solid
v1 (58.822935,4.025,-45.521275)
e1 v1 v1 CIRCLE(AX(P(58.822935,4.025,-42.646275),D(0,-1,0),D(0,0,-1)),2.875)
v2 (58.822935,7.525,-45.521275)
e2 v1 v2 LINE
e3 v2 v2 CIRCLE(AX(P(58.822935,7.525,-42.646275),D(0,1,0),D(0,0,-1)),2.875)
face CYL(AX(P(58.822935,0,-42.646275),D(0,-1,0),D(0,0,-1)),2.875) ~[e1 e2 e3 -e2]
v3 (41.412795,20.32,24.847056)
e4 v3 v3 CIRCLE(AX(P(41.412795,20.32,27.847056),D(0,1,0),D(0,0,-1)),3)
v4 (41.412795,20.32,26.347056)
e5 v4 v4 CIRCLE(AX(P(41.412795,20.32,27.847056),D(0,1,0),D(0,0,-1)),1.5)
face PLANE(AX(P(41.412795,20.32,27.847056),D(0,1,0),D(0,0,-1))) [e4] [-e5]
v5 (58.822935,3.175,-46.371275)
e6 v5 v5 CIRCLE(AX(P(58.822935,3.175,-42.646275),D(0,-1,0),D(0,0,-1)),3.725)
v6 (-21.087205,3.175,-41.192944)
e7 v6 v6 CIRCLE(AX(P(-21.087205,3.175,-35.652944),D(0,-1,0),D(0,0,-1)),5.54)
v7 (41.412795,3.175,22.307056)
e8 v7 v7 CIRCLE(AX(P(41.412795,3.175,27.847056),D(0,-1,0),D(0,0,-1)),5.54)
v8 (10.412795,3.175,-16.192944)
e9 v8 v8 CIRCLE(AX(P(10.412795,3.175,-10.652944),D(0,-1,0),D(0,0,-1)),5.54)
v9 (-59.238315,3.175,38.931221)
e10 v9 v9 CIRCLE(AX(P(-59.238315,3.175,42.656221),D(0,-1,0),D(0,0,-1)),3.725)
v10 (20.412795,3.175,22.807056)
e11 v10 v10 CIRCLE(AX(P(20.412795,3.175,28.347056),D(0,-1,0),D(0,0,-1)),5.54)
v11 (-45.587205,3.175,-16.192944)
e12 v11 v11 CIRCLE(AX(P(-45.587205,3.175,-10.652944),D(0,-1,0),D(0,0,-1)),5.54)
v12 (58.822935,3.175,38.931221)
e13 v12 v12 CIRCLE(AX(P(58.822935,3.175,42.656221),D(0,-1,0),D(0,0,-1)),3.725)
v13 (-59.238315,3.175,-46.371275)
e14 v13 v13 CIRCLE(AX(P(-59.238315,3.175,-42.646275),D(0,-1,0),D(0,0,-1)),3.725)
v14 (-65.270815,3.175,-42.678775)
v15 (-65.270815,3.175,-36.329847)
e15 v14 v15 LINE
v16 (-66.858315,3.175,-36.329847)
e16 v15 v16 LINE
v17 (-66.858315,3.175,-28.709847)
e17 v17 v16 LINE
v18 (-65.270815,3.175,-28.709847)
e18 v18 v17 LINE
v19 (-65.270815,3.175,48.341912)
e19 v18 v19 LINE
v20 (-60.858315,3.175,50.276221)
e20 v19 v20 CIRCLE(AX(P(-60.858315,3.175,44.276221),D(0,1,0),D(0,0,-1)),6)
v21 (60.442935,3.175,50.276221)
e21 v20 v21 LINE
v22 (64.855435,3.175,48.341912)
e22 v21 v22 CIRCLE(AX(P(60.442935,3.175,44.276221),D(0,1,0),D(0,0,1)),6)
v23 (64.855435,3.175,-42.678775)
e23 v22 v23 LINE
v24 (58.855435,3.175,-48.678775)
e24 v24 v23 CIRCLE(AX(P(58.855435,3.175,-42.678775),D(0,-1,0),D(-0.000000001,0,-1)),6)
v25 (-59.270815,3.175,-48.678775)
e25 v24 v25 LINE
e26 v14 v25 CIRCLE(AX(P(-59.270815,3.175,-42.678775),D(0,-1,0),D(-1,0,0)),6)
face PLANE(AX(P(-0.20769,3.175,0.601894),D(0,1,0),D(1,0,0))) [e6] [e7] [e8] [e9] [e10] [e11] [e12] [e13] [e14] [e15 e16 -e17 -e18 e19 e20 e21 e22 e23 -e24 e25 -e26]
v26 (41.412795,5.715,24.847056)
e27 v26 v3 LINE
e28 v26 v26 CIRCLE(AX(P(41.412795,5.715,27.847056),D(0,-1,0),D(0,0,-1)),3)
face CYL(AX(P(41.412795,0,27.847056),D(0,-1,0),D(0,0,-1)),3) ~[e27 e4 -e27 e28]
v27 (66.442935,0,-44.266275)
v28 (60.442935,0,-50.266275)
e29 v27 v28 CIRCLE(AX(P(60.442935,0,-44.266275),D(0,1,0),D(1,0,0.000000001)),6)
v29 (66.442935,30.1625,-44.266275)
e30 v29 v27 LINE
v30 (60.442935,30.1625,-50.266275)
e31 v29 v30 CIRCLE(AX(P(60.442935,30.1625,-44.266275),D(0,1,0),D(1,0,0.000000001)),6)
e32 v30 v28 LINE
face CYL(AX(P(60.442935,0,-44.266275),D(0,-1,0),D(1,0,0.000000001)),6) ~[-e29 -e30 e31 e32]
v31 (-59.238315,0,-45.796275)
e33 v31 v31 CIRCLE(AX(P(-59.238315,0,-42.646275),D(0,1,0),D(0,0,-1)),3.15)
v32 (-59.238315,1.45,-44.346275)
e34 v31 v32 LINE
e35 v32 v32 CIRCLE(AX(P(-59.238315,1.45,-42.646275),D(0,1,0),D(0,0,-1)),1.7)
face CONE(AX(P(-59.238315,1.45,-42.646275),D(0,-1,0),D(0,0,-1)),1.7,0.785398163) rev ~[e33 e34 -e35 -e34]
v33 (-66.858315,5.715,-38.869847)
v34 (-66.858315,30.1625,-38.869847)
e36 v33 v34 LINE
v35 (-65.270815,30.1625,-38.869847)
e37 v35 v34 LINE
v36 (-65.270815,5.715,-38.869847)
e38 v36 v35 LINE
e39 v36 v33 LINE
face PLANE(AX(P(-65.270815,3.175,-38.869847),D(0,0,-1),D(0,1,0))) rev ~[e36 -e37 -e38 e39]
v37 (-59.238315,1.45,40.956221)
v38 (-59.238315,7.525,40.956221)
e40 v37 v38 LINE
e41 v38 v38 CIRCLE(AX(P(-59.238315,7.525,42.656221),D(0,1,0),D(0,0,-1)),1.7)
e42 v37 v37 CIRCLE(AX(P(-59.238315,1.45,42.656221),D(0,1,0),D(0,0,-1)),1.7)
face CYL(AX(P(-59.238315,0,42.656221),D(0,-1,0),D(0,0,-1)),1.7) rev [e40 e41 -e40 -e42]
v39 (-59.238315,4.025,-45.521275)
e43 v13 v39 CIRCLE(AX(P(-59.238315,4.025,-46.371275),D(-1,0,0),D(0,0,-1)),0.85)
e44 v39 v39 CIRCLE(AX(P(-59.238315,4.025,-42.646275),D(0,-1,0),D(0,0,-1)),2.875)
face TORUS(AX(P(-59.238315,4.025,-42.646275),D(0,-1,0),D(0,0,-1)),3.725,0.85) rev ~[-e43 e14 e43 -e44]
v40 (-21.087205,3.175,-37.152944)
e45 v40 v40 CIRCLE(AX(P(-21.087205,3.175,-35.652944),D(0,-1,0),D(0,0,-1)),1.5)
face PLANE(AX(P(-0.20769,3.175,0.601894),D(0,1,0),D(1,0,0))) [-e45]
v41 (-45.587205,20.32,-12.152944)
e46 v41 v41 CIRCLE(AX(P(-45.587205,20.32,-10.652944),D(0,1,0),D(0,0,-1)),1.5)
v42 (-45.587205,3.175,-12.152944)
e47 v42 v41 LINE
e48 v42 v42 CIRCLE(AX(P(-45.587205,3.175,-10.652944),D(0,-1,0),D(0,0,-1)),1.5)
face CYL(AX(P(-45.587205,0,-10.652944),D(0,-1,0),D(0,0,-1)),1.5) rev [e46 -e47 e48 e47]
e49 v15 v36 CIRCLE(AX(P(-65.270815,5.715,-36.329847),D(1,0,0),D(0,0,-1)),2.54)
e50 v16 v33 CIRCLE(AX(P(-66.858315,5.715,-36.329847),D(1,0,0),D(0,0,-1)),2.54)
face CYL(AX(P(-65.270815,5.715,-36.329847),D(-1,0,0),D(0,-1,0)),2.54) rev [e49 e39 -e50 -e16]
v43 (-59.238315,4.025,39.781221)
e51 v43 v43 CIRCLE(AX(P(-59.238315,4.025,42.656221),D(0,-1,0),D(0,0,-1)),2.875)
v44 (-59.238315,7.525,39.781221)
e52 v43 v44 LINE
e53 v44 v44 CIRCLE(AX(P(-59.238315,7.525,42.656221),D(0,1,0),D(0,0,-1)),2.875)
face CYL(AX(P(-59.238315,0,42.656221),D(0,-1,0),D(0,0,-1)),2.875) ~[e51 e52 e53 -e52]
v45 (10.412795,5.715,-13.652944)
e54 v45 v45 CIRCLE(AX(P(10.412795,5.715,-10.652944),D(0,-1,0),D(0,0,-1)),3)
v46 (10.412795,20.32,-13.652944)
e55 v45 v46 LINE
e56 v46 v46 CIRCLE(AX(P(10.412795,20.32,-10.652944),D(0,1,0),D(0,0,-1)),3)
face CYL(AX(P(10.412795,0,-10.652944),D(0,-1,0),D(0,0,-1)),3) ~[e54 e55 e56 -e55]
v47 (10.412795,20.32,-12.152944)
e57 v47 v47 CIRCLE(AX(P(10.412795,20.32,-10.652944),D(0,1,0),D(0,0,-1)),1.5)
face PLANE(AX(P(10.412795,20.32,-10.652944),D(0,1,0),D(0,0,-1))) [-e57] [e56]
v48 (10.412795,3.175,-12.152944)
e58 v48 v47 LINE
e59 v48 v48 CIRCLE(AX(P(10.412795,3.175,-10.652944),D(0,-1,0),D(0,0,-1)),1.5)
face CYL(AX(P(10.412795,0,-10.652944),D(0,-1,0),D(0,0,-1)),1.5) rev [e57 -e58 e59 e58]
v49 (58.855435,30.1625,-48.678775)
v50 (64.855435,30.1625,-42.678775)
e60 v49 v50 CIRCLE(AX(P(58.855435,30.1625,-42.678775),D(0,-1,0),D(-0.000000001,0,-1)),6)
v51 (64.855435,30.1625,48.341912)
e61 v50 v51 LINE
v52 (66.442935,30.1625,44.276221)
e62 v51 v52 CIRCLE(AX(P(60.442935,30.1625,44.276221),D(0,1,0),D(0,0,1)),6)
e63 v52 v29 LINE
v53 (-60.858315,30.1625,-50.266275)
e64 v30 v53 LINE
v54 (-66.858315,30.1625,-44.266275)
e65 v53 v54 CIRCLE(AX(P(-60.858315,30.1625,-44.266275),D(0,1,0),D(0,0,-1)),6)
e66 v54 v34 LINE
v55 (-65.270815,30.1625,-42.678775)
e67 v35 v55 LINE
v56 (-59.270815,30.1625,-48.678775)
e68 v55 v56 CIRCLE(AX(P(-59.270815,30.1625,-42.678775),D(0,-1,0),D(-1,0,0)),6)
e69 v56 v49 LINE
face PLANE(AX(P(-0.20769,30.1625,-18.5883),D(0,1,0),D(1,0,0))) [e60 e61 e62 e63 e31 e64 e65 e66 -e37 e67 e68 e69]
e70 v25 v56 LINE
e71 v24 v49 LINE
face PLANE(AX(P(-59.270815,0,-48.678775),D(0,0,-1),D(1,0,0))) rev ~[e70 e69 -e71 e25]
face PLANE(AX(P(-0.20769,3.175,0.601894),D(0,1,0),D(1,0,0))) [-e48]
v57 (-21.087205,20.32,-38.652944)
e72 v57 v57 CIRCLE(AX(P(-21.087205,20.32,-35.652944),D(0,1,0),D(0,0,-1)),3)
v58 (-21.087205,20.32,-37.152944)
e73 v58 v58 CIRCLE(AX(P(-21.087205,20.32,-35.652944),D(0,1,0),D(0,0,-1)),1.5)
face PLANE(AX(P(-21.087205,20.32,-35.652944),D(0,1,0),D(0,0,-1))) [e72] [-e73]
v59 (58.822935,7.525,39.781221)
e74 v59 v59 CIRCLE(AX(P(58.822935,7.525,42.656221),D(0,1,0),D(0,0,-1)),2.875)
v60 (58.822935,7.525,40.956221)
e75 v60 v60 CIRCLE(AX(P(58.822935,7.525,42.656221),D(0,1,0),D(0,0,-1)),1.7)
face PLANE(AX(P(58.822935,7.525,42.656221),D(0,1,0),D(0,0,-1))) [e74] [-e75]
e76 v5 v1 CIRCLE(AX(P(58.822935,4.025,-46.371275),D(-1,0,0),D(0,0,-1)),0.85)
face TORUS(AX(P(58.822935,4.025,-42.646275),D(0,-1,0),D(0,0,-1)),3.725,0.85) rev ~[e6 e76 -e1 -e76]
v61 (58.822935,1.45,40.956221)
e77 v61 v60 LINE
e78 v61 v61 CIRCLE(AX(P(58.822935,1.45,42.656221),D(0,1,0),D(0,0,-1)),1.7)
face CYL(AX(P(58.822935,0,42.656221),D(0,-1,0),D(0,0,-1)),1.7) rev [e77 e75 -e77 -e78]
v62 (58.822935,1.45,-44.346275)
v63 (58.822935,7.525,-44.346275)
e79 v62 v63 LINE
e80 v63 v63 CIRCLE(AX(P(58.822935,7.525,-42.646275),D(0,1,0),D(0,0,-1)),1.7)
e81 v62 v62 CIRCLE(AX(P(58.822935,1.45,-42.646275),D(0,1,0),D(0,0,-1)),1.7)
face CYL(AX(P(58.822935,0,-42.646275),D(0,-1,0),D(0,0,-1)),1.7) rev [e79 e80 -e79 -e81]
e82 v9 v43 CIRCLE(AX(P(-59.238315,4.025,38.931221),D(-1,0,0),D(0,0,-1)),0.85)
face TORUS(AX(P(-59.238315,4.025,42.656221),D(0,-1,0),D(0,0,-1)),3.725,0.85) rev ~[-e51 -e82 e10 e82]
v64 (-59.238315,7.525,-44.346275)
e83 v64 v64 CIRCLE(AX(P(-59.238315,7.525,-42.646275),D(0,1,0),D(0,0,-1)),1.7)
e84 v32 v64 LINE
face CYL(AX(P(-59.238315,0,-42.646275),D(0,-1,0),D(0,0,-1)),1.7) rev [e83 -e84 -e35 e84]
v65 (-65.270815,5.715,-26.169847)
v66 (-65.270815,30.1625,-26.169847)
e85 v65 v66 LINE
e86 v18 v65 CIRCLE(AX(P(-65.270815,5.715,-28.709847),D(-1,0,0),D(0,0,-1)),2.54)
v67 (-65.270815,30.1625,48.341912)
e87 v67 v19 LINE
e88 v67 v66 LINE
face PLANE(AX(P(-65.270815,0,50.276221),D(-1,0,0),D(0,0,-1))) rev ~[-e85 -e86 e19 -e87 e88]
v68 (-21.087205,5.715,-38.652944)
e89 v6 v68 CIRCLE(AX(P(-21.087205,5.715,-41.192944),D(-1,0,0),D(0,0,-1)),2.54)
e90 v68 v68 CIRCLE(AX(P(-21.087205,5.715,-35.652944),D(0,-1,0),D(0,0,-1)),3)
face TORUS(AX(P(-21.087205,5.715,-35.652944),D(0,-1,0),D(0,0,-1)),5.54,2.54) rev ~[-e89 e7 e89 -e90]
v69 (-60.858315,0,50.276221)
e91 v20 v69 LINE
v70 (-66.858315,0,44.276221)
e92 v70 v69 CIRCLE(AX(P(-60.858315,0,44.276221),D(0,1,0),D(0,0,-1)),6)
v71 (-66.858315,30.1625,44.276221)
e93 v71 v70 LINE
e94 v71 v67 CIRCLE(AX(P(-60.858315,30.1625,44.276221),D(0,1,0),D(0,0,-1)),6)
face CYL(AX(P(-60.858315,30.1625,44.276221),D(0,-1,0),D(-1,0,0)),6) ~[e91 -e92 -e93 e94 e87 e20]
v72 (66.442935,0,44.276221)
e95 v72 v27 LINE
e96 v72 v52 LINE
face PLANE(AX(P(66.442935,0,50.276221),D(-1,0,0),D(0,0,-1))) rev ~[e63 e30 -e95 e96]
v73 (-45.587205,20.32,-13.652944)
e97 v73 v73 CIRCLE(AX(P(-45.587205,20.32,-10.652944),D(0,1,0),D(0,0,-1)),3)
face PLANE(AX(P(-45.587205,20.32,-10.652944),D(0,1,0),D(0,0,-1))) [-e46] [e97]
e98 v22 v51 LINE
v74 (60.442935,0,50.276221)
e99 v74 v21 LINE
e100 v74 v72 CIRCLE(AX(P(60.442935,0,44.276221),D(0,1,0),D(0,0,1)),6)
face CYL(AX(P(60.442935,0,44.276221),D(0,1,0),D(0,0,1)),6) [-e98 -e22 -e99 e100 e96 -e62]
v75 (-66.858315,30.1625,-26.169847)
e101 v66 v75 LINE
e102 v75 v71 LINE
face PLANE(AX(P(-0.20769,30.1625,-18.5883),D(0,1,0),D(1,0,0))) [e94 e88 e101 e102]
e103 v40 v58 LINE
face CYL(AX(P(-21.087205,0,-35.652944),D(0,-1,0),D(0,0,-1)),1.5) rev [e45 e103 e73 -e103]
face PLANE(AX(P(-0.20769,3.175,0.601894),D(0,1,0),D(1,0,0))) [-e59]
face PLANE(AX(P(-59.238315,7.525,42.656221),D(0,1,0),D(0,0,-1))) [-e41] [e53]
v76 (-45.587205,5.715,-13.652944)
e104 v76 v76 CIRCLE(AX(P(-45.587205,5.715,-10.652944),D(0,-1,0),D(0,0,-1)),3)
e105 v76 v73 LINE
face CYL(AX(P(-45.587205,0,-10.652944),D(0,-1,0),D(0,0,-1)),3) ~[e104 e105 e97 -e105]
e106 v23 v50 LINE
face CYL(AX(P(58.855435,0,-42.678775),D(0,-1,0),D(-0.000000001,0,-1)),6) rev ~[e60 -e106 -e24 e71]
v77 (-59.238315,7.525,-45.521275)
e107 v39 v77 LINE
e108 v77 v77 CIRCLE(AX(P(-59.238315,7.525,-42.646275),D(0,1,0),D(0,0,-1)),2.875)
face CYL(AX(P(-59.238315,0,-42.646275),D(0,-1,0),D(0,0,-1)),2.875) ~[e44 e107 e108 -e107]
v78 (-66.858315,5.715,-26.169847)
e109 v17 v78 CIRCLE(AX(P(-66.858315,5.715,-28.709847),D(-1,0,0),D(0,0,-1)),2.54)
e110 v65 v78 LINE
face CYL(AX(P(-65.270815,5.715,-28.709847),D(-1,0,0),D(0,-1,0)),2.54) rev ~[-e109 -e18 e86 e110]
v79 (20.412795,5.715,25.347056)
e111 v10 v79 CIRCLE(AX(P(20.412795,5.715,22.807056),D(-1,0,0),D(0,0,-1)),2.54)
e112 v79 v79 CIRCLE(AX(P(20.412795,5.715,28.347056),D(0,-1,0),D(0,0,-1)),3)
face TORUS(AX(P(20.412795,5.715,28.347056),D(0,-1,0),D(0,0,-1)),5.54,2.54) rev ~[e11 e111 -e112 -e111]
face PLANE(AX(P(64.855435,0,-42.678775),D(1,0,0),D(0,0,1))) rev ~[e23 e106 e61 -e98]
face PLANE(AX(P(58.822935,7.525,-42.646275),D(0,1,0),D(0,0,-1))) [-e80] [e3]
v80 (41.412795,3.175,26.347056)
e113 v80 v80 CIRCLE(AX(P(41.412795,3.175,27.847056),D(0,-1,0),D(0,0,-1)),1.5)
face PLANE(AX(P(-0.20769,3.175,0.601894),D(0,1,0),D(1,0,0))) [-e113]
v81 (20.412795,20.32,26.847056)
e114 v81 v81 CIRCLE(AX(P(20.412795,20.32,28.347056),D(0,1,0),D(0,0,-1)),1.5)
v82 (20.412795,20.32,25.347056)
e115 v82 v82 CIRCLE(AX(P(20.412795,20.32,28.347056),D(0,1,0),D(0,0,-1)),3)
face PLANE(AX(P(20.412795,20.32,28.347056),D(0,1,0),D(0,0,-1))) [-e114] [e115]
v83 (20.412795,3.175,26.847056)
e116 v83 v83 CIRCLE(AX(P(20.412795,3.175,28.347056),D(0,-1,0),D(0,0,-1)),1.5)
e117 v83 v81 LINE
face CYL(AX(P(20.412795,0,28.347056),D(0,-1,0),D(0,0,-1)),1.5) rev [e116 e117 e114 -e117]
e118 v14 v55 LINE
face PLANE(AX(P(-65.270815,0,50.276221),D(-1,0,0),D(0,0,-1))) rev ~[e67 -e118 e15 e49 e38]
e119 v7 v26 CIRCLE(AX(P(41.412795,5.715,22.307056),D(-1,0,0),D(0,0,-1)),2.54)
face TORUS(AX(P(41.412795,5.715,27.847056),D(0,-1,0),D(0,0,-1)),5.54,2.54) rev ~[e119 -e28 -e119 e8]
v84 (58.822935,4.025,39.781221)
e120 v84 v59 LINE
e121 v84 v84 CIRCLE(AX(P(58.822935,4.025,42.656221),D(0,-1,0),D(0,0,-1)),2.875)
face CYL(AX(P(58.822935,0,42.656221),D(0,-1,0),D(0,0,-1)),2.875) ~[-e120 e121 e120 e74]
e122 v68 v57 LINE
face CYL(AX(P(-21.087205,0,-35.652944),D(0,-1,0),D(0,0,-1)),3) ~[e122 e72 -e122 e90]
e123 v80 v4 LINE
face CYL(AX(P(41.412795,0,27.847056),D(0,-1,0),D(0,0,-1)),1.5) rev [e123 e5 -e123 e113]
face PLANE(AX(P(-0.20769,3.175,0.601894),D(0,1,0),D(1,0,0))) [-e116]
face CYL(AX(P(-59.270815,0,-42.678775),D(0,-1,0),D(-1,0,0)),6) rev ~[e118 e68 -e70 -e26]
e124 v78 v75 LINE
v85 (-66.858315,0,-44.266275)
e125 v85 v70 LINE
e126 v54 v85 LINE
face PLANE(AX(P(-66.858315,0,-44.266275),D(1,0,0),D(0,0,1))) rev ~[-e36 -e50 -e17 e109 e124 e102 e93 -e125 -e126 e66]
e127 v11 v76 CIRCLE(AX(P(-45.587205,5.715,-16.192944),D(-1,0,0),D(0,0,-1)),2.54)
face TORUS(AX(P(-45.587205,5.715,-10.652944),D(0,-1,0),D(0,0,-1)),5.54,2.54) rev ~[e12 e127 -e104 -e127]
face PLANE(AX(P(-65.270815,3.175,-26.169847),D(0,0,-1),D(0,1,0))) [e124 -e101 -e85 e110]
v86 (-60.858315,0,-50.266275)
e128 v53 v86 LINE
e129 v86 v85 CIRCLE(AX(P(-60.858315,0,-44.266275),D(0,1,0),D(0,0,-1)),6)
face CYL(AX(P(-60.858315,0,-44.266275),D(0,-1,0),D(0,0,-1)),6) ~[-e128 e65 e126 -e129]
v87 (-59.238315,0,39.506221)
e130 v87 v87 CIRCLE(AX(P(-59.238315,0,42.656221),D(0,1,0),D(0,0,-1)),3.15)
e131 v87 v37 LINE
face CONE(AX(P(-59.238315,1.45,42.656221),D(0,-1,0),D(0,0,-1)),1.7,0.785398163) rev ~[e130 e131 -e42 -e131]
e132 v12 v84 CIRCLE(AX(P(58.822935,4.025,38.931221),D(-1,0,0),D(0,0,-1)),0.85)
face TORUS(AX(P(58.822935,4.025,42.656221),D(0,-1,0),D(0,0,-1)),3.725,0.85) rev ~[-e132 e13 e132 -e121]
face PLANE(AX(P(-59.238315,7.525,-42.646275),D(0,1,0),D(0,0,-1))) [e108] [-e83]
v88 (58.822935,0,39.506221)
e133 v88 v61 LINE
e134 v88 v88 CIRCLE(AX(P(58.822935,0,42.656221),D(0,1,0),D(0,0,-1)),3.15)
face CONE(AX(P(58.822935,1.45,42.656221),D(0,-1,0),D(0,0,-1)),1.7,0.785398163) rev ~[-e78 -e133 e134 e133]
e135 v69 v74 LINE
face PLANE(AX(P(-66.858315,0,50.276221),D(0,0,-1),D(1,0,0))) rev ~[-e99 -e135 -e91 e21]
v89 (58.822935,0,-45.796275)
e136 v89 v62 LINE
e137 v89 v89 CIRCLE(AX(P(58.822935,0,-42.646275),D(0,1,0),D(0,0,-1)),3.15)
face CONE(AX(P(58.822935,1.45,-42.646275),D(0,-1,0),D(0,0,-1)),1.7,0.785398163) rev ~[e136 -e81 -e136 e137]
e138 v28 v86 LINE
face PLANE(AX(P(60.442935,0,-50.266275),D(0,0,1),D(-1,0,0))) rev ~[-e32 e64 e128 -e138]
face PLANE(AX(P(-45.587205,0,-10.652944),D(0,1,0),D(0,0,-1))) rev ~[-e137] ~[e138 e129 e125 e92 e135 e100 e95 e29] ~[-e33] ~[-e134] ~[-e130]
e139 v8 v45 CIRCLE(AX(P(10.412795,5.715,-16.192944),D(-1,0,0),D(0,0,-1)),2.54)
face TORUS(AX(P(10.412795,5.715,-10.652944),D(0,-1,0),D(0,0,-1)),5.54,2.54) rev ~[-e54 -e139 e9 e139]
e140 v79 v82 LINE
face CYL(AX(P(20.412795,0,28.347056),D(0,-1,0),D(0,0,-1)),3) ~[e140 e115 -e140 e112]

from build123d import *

# Parameters (mm, degrees)
BOSS_EXTRUDE12_DEPTH = 3.175
BOSS_EXTRUDE13_DEPTH = 30.1625
SKETCH1_25_R         = 2.875
SKETCH1_25_R_2       = 1.7
BOSS_EXTRUDE15_DEPTH = 7.525
SKETCH1_27_R         = 1.7
CUT_EXTRUDE3_DEPTH   = 28.575
CHAMFER2_SIZE        = 1.45
FILLET3_R            = 6
FILLET4_R            = 0.85
FILLET5_R            = 0.85
SKETCH2_W            = 12.7
SKETCH2_H            = 26.9875
CUT_EXTRUDE4_DEPTH   = 2.54
FILLET6_R            = 2.54
SKETCH1_30_R         = 3
SKETCH1_30_R_2       = 1.5
BOSS_EXTRUDE16_DEPTH = 20.32
FILLET7_R            = 2.54


with BuildPart() as part:
    # Sketch1 → Boss-Extrude12 (new body)
    with BuildSketch(Plane(origin=(0, 0, 0), x_dir=(1, 0, 0), z_dir=(0, 1, 0))):
        with BuildLine():
            Line((-66.858315384, -50.276221126), (-65.270815384, -50.276221126))
            Line((-65.270815384, -50.276221126), (64.85543465, -50.276221126))
            Line((64.85543465, -50.276221126), (66.44293465, -50.276221126))
            Line((66.44293465, -50.276221126), (66.44293465, 44.266274766))
            ThreePointArc((66.44293465, 44.266274766), (64.685575338, 48.508915454), (60.44293465, 50.266274766))
            Line((60.44293465, 50.266274766), (-60.858315384, 50.266274766))
            ThreePointArc((-60.858315384, 50.266274766), (-65.100956071, 48.508915454), (-66.858315384, 44.266274766))
            Line((-66.858315384, 44.266274766), (-66.858315384, -50.276221126))
        make_face()
    extrude(amount=BOSS_EXTRUDE12_DEPTH)

    # Sketch1<23> → Boss-Extrude13 (add)
    with BuildSketch(Plane(origin=(0, 0, 0), x_dir=(1, 0, 0), z_dir=(0, 1, 0))):
        with BuildLine():
            Line((-66.858315384, 44.266274766), (-66.858315384, -50.276221126))
            Line((-66.858315384, -50.276221126), (-65.270815384, -50.276221126))
            Line((-65.270815384, -50.276221126), (-65.270815384, 42.678774766))
            ThreePointArc((-65.270815384, 42.678774766), (-63.513456071, 46.921415454), (-59.270815384, 48.678774766))
            Line((-59.270815384, 48.678774766), (58.85543465, 48.678774766))
            ThreePointArc((58.85543465, 48.678774766), (63.098075338, 46.921415454), (64.85543465, 42.678774766))
            Line((64.85543465, 42.678774766), (64.85543465, -50.276221126))
            Line((64.85543465, -50.276221126), (66.44293465, -50.276221126))
            Line((66.44293465, -50.276221126), (66.44293465, 44.266274766))
            ThreePointArc((66.44293465, 44.266274766), (64.685575338, 48.508915454), (60.44293465, 50.266274766))
            Line((60.44293465, 50.266274766), (-60.858315384, 50.266274766))
            ThreePointArc((-60.858315384, 50.266274766), (-65.100956071, 48.508915454), (-66.858315384, 44.266274766))
        make_face()
    extrude(amount=BOSS_EXTRUDE13_DEPTH)

    # Sketch1<25> → Boss-Extrude15 (add)
    # profile 1 of 4: a face of its own
    with BuildSketch(Plane(origin=(0, 0, 0), x_dir=(1, 0, 0), z_dir=(0, 1, 0))):
        with Locations((-59.238315384, 42.646274766)):
            Circle(SKETCH1_25_R)
        with Locations((-59.238315384, 42.646274766)):
            Circle(SKETCH1_25_R_2, mode=Mode.SUBTRACT)
    # profile 2 of 4: a face of its own
    with BuildSketch(Plane(origin=(0, 0, 0), x_dir=(1, 0, 0), z_dir=(0, 1, 0))):
        with Locations((58.82293465, 42.646274766)):
            Circle(SKETCH1_25_R)
        with Locations((58.82293465, 42.646274766)):
            Circle(SKETCH1_25_R_2, mode=Mode.SUBTRACT)
    # profile 3 of 4: a face of its own
    with BuildSketch(Plane(origin=(0, 0, 0), x_dir=(1, 0, 0), z_dir=(0, 1, 0))):
        with Locations((-59.238315384, -42.656221126)):
            Circle(SKETCH1_25_R)
        with Locations((-59.238315384, -42.656221126)):
            Circle(SKETCH1_25_R_2, mode=Mode.SUBTRACT)
    # profile 4 of 4: a face of its own
    with BuildSketch(Plane(origin=(0, 0, 0), x_dir=(1, 0, 0), z_dir=(0, 1, 0))):
        with Locations((58.82293465, -42.656221126)):
            Circle(SKETCH1_25_R)
        with Locations((58.82293465, -42.656221126)):
            Circle(SKETCH1_25_R_2, mode=Mode.SUBTRACT)
    extrude(amount=BOSS_EXTRUDE15_DEPTH)

    # Sketch1<27> → Cut-Extrude3 (cut)
    with BuildSketch(Plane(origin=(0, 0, 0), x_dir=(1, 0, 0), z_dir=(0, 1, 0))):
        with Locations((-59.238315384, 42.646274766)):
            Circle(SKETCH1_27_R)
        with Locations((58.82293465, 42.646274766)):
            Circle(SKETCH1_27_R)
        with Locations((-59.238315384, -42.656221126)):
            Circle(SKETCH1_27_R)
        with Locations((58.82293465, -42.656221126)):
            Circle(SKETCH1_27_R)
    extrude(amount=CUT_EXTRUDE3_DEPTH, mode=Mode.SUBTRACT)

    # Chamfer2
    chamfer2_edges = [part.edges().sort_by_distance(p)[0] for p in [
        (57.12293465, 0, 42.656221126),
        (57.12293465, 0, -42.646274766),
        (-60.938315384, 0, 42.656221126),
        (-60.938315384, 0, -42.646274766),
    ]]
    chamfer(chamfer2_edges, length=CHAMFER2_SIZE)

    # Fillet3
    fillet3_edges = [part.edges().sort_by_distance(p)[0] for p in [
        (66.44293465, 15.08125, 50.276221126),
        (-66.858315384, 15.08125, 50.276221126),
    ]]
    fillet(fillet3_edges, radius=FILLET3_R)

    # Fillet4
    fillet4_edges = [part.edges().sort_by_distance(p)[0] for p in [
        (-62.113315384, 3.175, -42.646274766),
    ]]
    fillet(fillet4_edges, radius=FILLET4_R)

    # Fillet5
    fillet5_edges = [part.edges().sort_by_distance(p)[0] for p in [
        (-62.113315384, 3.175, 42.656221126),
        (55.94793465, 3.175, 42.656221126),
        (55.94793465, 3.175, -42.646274766),
    ]]
    fillet(fillet5_edges, radius=FILLET5_R)

    # Sketch2 → Cut-Extrude4 (cut)
    with BuildSketch(Plane(origin=(-65.270815384, 0, 0), x_dir=(0, 0, -1), z_dir=(1, 0, 0))):
        with Locations((32.519846941, 16.66875)):
            Rectangle(SKETCH2_W, SKETCH2_H)
    extrude(amount=-CUT_EXTRUDE4_DEPTH, mode=Mode.SUBTRACT)

    # Fillet6
    fillet6_edges = [part.edges().sort_by_distance(p)[0] for p in [
        (-66.064565384, 3.175, -38.869846941),
        (-66.064565384, 3.175, -26.169846941),
    ]]
    fillet(fillet6_edges, radius=FILLET6_R)

    # Sketch1<30> → Boss-Extrude16 (add)
    # profile 1 of 5: a face of its own
    with BuildSketch(Plane(origin=(0, 0, 0), x_dir=(1, 0, 0), z_dir=(0, 1, 0))):
        with Locations((-45.587205324, 10.652944173)):
            Circle(SKETCH1_30_R)
        with Locations((-45.587205324, 10.652944173)):
            Circle(SKETCH1_30_R_2, mode=Mode.SUBTRACT)
    # profile 2 of 5: a face of its own
    with BuildSketch(Plane(origin=(0, 0, 0), x_dir=(1, 0, 0), z_dir=(0, 1, 0))):
        with Locations((-21.087205302, 35.652944211)):
            Circle(SKETCH1_30_R)
        with Locations((-21.087205302, 35.652944211)):
            Circle(SKETCH1_30_R_2, mode=Mode.SUBTRACT)
    # profile 3 of 5: a face of its own
    with BuildSketch(Plane(origin=(0, 0, 0), x_dir=(1, 0, 0), z_dir=(0, 1, 0))):
        with Locations((10.41279469, 10.652944173)):
            Circle(SKETCH1_30_R)
        with Locations((10.41279469, 10.652944173)):
            Circle(SKETCH1_30_R_2, mode=Mode.SUBTRACT)
    # profile 4 of 5: a face of its own
    with BuildSketch(Plane(origin=(0, 0, 0), x_dir=(1, 0, 0), z_dir=(0, 1, 0))):
        with Locations((20.412794756, -28.347055805)):
            Circle(SKETCH1_30_R)
        with Locations((20.412794756, -28.347055805)):
            Circle(SKETCH1_30_R_2, mode=Mode.SUBTRACT)
    # profile 5 of 5: a face of its own
    with BuildSketch(Plane(origin=(0, 0, 0), x_dir=(1, 0, 0), z_dir=(0, 1, 0))):
        with Locations((41.412794666, -27.847055789)):
            Circle(SKETCH1_30_R)
        with Locations((41.412794666, -27.847055789)):
            Circle(SKETCH1_30_R_2, mode=Mode.SUBTRACT)
    extrude(amount=BOSS_EXTRUDE16_DEPTH)

    # Fillet7
    fillet7_edges = [part.edges().sort_by_distance(p)[0] for p in [
        (38.412794666, 3.175, 27.847055789),
        (17.412794756, 3.175, 28.347055805),
        (7.41279469, 3.175, -10.652944173),
        (-24.087205302, 3.175, -35.652944211),
        (-48.587205324, 3.175, -10.652944173),
    ]]
    fillet(fillet7_edges, radius=FILLET7_R)


solid = part.part
